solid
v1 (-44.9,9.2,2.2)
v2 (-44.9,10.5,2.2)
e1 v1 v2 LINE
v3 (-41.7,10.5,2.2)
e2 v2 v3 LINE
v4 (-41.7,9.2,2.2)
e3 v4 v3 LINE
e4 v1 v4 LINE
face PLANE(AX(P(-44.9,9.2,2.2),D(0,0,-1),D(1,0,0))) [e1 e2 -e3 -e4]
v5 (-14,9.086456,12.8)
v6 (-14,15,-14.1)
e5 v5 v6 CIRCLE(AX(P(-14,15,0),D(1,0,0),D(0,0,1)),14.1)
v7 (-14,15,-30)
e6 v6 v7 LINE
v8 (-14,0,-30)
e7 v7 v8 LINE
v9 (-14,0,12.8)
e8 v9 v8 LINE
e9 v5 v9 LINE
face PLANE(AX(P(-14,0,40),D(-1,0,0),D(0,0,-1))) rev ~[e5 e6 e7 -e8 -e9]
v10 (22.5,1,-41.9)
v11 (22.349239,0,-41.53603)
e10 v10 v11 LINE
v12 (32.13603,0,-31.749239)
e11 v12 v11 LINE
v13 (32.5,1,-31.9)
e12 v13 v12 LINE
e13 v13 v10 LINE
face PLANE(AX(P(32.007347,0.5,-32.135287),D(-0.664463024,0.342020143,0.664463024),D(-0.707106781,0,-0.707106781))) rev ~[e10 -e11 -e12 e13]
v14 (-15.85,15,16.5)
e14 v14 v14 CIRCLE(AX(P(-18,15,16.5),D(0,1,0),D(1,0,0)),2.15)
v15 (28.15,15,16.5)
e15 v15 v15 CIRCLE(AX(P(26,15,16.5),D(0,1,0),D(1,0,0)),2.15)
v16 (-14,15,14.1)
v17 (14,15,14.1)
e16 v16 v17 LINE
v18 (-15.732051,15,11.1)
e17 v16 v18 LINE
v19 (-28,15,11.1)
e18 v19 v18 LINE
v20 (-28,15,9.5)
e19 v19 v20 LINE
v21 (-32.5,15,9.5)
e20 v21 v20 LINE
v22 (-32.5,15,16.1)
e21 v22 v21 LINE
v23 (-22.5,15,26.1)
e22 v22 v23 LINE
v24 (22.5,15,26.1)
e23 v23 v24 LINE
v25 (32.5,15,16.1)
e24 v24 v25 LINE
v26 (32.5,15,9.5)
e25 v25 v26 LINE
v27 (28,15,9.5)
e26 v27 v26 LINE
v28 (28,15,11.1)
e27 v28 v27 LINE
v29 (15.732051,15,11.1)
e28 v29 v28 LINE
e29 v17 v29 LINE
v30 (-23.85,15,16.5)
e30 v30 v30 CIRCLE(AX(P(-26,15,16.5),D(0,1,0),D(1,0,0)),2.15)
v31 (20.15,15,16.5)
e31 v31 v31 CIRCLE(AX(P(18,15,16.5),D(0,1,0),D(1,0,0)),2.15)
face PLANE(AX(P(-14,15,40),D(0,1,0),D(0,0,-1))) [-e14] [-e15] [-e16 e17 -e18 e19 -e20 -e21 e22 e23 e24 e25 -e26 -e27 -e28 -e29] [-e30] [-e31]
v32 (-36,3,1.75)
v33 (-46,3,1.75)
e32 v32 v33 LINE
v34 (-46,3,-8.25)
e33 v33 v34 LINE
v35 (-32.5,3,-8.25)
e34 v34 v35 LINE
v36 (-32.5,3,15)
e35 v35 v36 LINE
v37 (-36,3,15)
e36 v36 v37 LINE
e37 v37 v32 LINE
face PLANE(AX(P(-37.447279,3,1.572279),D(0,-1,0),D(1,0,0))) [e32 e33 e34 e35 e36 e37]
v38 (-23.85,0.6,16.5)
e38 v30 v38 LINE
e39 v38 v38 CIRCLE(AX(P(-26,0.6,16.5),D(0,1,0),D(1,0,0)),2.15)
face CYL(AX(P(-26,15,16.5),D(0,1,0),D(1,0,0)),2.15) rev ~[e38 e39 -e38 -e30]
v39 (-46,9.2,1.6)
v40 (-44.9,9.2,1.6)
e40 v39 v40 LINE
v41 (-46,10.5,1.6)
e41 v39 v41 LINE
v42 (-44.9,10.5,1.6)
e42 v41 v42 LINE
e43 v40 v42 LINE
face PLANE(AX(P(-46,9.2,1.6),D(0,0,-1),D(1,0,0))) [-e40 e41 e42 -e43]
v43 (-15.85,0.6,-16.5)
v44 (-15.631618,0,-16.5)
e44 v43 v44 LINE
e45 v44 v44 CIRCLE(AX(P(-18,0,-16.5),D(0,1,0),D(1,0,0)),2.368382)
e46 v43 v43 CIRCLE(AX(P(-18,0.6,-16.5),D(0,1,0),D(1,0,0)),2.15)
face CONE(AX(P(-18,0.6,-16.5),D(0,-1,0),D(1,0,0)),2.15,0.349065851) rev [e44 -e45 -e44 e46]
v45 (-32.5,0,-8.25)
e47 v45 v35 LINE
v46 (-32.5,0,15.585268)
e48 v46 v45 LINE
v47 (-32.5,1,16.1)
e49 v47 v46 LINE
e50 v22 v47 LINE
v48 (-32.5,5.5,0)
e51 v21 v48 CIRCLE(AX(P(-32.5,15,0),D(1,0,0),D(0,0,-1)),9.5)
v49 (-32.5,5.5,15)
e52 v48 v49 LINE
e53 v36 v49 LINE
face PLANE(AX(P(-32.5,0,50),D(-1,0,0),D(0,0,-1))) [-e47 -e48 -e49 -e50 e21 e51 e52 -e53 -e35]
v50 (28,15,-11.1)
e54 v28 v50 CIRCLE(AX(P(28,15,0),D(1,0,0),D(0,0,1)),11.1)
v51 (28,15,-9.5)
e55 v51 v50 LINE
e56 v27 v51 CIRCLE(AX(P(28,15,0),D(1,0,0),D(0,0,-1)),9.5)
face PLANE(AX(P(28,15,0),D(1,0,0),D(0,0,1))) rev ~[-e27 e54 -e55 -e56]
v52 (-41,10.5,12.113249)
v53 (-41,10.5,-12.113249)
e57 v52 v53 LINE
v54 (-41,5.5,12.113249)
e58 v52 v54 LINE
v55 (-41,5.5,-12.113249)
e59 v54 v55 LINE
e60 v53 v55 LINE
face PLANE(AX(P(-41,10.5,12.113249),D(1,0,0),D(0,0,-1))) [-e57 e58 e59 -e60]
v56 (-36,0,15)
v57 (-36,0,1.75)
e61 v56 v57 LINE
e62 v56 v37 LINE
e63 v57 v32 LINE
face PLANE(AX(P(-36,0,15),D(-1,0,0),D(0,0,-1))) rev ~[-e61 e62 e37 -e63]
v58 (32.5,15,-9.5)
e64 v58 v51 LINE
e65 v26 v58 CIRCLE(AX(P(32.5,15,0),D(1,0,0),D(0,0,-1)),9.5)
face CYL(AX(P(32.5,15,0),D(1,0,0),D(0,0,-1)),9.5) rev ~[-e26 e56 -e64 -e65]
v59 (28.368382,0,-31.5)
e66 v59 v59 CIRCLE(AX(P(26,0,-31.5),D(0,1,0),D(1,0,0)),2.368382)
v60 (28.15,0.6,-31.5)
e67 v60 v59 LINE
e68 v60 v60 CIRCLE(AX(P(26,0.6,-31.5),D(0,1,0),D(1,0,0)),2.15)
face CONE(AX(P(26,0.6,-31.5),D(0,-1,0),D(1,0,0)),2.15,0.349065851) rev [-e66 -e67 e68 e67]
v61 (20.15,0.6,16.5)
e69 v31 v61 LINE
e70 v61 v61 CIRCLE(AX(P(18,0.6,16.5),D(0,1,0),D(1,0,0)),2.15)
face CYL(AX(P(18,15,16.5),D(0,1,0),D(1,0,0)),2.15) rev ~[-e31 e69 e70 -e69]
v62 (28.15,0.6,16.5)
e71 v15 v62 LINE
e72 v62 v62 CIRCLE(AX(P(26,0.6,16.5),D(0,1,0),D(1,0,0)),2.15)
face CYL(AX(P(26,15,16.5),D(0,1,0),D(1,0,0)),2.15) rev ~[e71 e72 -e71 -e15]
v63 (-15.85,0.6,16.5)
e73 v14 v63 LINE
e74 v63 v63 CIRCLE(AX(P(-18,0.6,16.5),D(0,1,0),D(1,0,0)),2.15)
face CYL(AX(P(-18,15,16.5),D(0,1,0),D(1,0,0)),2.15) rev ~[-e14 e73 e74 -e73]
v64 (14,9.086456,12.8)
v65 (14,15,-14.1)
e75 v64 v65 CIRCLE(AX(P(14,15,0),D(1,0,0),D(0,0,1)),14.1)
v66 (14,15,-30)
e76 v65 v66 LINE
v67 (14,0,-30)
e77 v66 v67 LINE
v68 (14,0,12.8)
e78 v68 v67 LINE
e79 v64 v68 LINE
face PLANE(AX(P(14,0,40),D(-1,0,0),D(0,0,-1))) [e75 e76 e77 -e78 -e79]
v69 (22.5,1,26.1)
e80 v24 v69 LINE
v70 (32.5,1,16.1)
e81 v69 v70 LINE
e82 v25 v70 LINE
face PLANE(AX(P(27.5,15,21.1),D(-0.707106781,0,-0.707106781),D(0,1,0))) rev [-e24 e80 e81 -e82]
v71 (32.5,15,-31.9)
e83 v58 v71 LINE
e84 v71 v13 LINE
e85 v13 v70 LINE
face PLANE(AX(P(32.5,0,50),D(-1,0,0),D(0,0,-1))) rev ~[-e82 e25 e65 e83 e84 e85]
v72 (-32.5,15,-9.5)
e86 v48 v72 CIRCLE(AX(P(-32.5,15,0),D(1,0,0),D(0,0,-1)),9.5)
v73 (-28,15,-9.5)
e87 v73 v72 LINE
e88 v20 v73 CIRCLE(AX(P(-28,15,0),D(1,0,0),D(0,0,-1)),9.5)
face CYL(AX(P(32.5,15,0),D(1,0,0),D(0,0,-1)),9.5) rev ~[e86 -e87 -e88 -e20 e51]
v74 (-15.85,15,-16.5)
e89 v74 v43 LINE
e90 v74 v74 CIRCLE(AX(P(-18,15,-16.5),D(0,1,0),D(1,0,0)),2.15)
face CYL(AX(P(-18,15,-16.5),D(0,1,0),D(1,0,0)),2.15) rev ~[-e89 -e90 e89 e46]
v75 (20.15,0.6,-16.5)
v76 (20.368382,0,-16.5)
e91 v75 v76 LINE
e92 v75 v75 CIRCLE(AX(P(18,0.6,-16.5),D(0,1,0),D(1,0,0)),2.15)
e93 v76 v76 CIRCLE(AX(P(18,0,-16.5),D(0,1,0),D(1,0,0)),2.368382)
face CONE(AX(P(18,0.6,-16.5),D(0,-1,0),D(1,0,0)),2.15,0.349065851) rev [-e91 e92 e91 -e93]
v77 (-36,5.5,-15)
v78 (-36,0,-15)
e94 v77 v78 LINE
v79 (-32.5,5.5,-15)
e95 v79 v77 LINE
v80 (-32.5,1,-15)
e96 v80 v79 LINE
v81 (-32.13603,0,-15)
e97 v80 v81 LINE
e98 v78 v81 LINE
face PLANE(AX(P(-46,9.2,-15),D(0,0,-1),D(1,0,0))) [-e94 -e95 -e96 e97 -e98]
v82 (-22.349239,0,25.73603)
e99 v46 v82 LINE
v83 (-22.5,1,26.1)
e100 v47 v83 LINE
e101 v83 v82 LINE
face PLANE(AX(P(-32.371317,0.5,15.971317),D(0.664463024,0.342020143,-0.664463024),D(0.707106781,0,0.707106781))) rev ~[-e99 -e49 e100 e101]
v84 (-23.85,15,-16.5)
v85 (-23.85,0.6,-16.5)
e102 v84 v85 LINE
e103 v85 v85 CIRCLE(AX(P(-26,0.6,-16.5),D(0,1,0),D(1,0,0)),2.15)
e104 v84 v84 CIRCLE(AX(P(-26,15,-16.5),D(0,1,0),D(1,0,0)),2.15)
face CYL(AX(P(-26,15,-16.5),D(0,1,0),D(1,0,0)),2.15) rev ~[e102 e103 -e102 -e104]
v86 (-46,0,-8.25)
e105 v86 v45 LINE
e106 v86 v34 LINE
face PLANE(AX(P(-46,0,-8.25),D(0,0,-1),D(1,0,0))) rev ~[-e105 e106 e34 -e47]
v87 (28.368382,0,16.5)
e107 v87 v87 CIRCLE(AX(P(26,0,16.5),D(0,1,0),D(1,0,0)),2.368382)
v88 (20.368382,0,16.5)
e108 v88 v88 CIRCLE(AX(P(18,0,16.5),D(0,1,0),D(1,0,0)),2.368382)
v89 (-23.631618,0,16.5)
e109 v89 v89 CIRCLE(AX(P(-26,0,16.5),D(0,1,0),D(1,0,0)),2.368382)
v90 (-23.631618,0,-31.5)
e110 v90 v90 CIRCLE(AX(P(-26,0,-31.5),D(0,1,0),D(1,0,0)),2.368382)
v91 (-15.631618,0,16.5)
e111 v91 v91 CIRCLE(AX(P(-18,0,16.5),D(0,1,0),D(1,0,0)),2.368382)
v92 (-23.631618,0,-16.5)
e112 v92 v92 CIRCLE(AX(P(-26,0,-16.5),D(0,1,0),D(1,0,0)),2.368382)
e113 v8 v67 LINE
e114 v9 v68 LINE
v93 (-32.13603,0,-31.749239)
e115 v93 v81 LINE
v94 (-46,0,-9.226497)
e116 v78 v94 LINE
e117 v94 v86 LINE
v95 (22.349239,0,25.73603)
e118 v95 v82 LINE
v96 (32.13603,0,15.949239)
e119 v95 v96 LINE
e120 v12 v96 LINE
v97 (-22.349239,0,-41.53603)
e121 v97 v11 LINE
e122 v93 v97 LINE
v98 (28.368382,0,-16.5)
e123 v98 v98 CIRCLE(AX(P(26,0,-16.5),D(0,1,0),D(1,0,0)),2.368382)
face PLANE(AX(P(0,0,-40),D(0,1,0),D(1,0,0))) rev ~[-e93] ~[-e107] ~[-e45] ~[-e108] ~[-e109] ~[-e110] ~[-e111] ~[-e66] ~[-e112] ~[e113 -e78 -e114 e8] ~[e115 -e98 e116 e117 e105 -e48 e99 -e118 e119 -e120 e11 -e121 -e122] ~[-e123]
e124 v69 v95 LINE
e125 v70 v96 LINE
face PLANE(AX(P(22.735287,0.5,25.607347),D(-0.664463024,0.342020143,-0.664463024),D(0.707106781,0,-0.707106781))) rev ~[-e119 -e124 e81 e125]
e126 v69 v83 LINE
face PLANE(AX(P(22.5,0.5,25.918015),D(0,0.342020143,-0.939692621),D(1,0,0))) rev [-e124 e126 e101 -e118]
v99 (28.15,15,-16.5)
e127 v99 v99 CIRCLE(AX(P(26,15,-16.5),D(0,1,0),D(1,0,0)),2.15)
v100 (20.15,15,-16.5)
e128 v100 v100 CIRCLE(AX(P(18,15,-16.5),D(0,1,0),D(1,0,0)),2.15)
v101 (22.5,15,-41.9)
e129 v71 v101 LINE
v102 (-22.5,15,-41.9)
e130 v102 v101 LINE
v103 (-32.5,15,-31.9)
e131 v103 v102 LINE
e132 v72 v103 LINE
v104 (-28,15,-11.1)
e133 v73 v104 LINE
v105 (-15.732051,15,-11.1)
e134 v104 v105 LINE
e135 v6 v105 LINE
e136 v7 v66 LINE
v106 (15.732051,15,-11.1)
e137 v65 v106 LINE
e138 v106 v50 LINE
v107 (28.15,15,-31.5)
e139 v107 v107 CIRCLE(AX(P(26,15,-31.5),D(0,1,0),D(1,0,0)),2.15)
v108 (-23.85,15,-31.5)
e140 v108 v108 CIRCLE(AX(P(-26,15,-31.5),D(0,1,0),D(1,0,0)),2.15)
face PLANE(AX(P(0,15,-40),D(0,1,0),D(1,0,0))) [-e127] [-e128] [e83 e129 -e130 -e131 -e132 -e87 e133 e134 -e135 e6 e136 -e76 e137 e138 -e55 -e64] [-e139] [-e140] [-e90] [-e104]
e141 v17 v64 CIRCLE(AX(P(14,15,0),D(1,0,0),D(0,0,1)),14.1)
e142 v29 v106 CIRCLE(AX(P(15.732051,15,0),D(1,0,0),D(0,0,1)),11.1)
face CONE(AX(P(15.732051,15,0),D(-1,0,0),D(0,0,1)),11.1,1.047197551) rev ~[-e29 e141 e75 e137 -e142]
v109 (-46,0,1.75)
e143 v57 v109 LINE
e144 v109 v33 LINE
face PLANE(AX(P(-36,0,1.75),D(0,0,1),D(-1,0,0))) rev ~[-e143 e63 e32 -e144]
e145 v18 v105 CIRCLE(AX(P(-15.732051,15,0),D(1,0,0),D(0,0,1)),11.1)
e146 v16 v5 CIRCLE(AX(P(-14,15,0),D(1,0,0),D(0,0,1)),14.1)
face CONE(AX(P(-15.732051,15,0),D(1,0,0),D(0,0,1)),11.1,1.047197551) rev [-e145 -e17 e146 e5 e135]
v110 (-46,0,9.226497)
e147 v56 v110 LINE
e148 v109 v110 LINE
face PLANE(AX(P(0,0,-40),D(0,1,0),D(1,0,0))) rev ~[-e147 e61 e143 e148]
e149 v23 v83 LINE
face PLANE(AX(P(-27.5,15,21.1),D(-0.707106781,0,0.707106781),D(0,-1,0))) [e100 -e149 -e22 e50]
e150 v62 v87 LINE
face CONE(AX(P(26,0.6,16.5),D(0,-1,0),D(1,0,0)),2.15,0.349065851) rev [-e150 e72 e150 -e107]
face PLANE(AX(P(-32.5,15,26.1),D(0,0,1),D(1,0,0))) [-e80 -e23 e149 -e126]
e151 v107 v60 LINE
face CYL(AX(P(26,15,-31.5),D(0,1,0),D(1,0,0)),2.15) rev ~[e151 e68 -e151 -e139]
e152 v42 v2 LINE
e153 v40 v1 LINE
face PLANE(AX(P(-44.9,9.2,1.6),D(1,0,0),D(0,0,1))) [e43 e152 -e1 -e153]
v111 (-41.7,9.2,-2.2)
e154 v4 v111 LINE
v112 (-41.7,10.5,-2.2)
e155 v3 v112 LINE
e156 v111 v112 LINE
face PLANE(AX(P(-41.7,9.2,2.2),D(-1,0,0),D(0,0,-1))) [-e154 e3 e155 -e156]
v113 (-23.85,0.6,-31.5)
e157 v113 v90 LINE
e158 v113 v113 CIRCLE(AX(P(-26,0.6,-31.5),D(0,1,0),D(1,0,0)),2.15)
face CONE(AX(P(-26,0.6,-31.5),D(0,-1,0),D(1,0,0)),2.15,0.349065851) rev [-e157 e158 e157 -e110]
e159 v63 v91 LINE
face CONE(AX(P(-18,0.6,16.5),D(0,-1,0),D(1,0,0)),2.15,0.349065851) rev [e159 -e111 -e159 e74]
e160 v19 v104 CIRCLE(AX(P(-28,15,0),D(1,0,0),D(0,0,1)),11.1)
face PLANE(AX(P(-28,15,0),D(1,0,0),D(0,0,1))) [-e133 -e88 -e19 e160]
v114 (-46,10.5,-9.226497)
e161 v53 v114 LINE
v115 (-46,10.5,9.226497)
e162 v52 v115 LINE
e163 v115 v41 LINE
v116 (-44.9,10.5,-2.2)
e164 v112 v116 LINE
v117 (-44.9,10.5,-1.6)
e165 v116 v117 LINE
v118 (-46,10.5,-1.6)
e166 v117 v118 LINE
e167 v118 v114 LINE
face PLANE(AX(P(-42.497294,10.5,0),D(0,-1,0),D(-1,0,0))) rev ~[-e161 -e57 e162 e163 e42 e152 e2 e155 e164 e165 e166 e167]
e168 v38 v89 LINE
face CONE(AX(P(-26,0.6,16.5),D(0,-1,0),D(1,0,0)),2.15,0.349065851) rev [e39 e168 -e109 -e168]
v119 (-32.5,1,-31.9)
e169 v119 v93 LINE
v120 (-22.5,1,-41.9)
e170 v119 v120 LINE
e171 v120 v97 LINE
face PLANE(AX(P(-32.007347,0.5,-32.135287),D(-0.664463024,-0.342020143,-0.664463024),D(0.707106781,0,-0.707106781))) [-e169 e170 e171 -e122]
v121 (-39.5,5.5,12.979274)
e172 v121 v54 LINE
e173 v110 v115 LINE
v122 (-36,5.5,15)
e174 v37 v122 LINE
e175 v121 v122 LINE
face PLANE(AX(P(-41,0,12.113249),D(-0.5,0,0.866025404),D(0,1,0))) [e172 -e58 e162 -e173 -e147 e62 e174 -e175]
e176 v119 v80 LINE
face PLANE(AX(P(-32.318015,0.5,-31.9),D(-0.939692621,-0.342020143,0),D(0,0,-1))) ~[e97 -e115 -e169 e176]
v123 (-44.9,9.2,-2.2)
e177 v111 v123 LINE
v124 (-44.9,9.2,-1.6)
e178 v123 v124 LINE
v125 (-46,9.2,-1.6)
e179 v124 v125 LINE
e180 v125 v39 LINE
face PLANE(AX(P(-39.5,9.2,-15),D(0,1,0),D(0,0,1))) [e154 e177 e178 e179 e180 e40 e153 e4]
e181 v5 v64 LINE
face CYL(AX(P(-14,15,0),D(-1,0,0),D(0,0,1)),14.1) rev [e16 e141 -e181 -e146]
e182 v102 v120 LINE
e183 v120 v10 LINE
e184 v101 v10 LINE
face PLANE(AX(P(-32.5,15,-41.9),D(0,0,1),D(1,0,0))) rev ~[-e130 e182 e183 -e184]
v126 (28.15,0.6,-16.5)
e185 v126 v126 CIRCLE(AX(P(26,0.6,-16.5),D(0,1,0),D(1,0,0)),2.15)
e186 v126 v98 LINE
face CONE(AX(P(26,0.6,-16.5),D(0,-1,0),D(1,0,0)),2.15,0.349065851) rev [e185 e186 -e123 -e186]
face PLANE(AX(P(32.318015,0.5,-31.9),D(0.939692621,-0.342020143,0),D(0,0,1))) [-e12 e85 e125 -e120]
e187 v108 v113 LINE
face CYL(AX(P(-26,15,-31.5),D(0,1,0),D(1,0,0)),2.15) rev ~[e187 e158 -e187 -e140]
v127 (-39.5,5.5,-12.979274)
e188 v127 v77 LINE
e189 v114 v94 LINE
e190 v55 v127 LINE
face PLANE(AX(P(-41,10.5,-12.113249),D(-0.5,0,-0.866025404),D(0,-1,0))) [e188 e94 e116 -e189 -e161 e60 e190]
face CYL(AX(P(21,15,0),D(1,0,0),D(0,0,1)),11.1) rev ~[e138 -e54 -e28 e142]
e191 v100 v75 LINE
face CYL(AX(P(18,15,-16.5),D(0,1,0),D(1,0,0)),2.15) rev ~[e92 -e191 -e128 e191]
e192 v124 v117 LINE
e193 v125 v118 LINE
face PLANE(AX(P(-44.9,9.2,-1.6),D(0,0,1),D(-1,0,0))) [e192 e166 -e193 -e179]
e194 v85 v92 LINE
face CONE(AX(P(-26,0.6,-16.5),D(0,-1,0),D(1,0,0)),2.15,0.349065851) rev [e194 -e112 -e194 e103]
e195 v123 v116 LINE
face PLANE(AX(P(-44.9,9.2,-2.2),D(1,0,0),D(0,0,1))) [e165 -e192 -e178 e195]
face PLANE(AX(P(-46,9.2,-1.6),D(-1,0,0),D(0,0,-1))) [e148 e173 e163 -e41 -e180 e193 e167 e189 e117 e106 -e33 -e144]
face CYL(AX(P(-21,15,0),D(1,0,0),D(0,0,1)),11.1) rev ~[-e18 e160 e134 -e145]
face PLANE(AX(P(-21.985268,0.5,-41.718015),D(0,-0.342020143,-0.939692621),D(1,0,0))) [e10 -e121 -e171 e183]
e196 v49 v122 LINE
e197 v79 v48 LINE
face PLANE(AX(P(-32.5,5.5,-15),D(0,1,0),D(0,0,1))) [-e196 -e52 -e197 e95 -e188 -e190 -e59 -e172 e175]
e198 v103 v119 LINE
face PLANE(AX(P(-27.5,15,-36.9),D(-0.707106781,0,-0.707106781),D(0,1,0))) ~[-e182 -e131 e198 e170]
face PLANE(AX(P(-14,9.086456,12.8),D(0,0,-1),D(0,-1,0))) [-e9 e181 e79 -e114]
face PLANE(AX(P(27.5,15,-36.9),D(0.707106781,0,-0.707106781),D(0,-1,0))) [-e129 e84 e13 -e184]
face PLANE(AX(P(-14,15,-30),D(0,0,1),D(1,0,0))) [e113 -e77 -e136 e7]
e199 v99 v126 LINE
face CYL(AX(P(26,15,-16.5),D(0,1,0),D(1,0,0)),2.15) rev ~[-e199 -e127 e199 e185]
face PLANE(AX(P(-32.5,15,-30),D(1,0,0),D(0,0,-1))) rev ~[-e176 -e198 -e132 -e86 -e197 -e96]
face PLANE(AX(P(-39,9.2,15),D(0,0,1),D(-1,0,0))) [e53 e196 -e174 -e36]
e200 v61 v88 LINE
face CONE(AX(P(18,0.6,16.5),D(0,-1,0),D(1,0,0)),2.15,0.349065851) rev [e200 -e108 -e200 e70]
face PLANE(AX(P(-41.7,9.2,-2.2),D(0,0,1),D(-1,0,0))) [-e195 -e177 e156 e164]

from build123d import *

# Parameters (mm, degrees)
SKETCH1_W              = 65
SKETCH1_H              = 100
SKETCH1_W_2            = 28
SKETCH1_H_2            = 80
BOSS_EXTRUDE1_DEPTH    = 15
SKETCH3_W              = 14
SKETCH3_H              = 11.1
SKETCH4_R              = 9.5
CUT_EXTRUDE2_DEPTH     = 66
SKETCH8_R              = 2.15
CUT_EXTRUDE6_DEPTH     = 16
FILLET1_R              = 20
CHAMFER1_SIZE          = 3
CHAMFER1_SIZE2         = 1.732050808
CHAMFER1_PART_2_SIZE   = 3
CHAMFER1_PART_2_SIZE2  = 1.732050808
SKETCH10_W             = 30
SKETCH10_H             = 5.5
BOSS_EXTRUDE2_DEPTH    = 13.5
BOSS_EXTRUDE3_START    = 7
SKETCH12_W             = 30
SKETCH12_H             = 3.7
BOSS_EXTRUDE3_DEPTH    = 6.5
BOSS_EXTRUDE4_DEPTH    = 1.3
CHAMFER3_SIZE          = 10
CHAMFER3_SIZE2         = 5.773502692
CHAMFER3_PART_2_SIZE   = 10
CHAMFER3_PART_2_SIZE2  = 5.773502692
BOSS_EXTRUDE6_DEPTH    = 28
SKETCH16_W             = 65
SKETCH16_H             = 26.184127578
CUT_EXTRUDE7_DEPTH     = 16
SKETCH17_W             = 28
SKETCH17_H             = 10
BOSS_EXTRUDE7_DEPTH    = 15
SKETCH18_W             = 65
SKETCH18_H             = 20
BOSS_EXTRUDE8_DEPTH    = 15
SKETCH19_W             = 65
SKETCH19_H             = 8.1
CUT_EXTRUDE8_DEPTH     = 16
CUT_EXTRUDE10_DEPTH    = 3
CHAMFER5_SIZE          = 10
CHAMFER6_SIZE          = 1
CHAMFER6_SIZE2         = 0.363970234
CHAMFER6_PART_2_SIZE   = 1
CHAMFER6_PART_2_SIZE2  = 0.363970234
CHAMFER6_PART_3_SIZE   = 1
CHAMFER6_PART_3_SIZE2  = 0.363970234
CHAMFER6_PART_4_SIZE   = 1
CHAMFER6_PART_4_SIZE2  = 0.363970234
CHAMFER6_PART_5_SIZE   = 1
CHAMFER6_PART_5_SIZE2  = 0.363970234
CHAMFER6_PART_6_SIZE   = 1
CHAMFER6_PART_6_SIZE2  = 0.363970234
CHAMFER6_PART_7_SIZE   = 1
CHAMFER6_PART_7_SIZE2  = 0.363970234
CHAMFER6_PART_8_SIZE   = 1
CHAMFER6_PART_8_SIZE2  = 0.363970234
SKETCH26_R             = 2.15
CUT_EXTRUDE11_DEPTH    = 16
CHAMFER7_SIZE          = 0.6
CHAMFER7_SIZE2         = 0.218382141
CHAMFER7_PART_2_SIZE   = 0.6
CHAMFER7_PART_2_SIZE2  = 0.218382141
CHAMFER7_PART_3_SIZE   = 0.6
CHAMFER7_PART_3_SIZE2  = 0.218382141
CHAMFER7_PART_4_SIZE   = 0.6
CHAMFER7_PART_4_SIZE2  = 0.218382141
CHAMFER7_PART_5_SIZE   = 0.6
CHAMFER7_PART_5_SIZE2  = 0.218382141
CHAMFER7_PART_6_SIZE   = 0.6
CHAMFER7_PART_6_SIZE2  = 0.218382141
CHAMFER7_PART_7_SIZE   = 0.6
CHAMFER7_PART_7_SIZE2  = 0.218382141
CHAMFER7_PART_8_SIZE   = 0.6
CHAMFER7_PART_8_SIZE2  = 0.218382141
CHAMFER7_PART_9_SIZE   = 0.6
CHAMFER7_PART_9_SIZE2  = 0.218382141
CHAMFER7_PART_10_SIZE  = 0.6
CHAMFER7_PART_10_SIZE2 = 0.218382141
CUT_EXTRUDE12_DEPTH    = 5


with BuildPart() as part:
    # Sketch1 → Boss-Extrude1 (new body)
    with BuildSketch(Plane(origin=(0, 0, 0), x_dir=(1, 0, 0), z_dir=(0, 1, 0))):
        Rectangle(SKETCH1_W, SKETCH1_H)
        Rectangle(SKETCH1_W_2, SKETCH1_H_2, mode=Mode.SUBTRACT)
    extrude(amount=BOSS_EXTRUDE1_DEPTH)

    # Sketch3 → Cut-Revolve1 (revolve, cut)
    with BuildSketch(Plane(origin=(0, 15, 0), x_dir=(1, 0, 0), z_dir=(0, 1, 0))):
        with Locations((21, -5.55)):
            Rectangle(SKETCH3_W, SKETCH3_H)
        with Locations((-21, -5.55)):
            Rectangle(SKETCH3_W, SKETCH3_H)
    revolve(axis=Axis((14, 15, 0), (1, 0, 0)), mode=Mode.SUBTRACT)

    # Sketch4 → Cut-Extrude2 (cut, through all)
    with BuildSketch(Plane(origin=(32.5, 0, 0), x_dir=(0, 0, -1), z_dir=(1, 0, 0))):
        with Locations((0, 15)):
            Circle(SKETCH4_R)
    extrude(amount=-CUT_EXTRUDE2_DEPTH, mode=Mode.SUBTRACT)

    # Sketch8 → Cut-Extrude6 (cut, through all)
    with BuildSketch(Plane(origin=(0, 15, 0), x_dir=(1, 0, 0), z_dir=(0, 1, 0))):
        with Locations((18, 16.5)):
            Circle(SKETCH8_R)
        with Locations((18, -16.5)):
            Circle(SKETCH8_R)
        with Locations((-18, -16.5)):
            Circle(SKETCH8_R)
        with Locations((-18, 16.5)):
            Circle(SKETCH8_R)
        with Locations((9, -27)):
            Circle(SKETCH8_R)
        with Locations((-9, -27)):
            Circle(SKETCH8_R)
        with Locations((-9, 27)):
            Circle(SKETCH8_R)
        with Locations((9, 27)):
            Circle(SKETCH8_R)
        with Locations((-26, 16.5)):
            Circle(SKETCH8_R)
        with Locations((26, 16.5)):
            Circle(SKETCH8_R)
        with Locations((26, -16.5)):
            Circle(SKETCH8_R)
        with Locations((-26, -16.5)):
            Circle(SKETCH8_R)
    extrude(amount=-CUT_EXTRUDE6_DEPTH, mode=Mode.SUBTRACT)

    # Fillet1
    fillet1_edges = [part.edges().sort_by_distance(p)[0] for p in [
        (-32.5, 7.5, -50),
        (32.5, 7.5, -50),
        (32.5, 7.5, 50),
        (-32.5, 7.5, 50),
    ]]
    fillet(fillet1_edges, radius=FILLET1_R)

    # Chamfer1
    chamfer1_edges = [part.edges().sort_by_distance(p)[0] for p in [
        (14, 3.9, 0),
    ]]
    chamfer1_side = [part.faces().sort_by_distance(p)[0] for p in [
        (14, 0.81394103, 0),
    ]]
    chamfer(chamfer1_edges, length=CHAMFER1_SIZE, length2=CHAMFER1_SIZE2, reference=chamfer1_side[0])

    # Chamfer1 part 2
    chamfer1_part_2_edges = [part.edges().sort_by_distance(p)[0] for p in [
        (-14, 3.9, 0),
    ]]
    chamfer1_part_2_side = [part.faces().sort_by_distance(p)[0] for p in [
        (-14, 0.81394103, 0),
    ]]
    chamfer(chamfer1_part_2_edges, length=CHAMFER1_PART_2_SIZE, length2=CHAMFER1_PART_2_SIZE2, reference=chamfer1_part_2_side[0])

    # Sketch10 → Boss-Extrude2 (add)
    with BuildSketch(Plane.ZY.offset(32.5)):
        with Locations((0, 2.75)):
            Rectangle(SKETCH10_W, SKETCH10_H)
    extrude(amount=BOSS_EXTRUDE2_DEPTH)

    # Sketch12 → Boss-Extrude3 (add)
    with BuildSketch(Plane.ZY.offset(32.5).offset(BOSS_EXTRUDE3_START)):
        with Locations((0, 7.35)):
            Rectangle(SKETCH12_W, SKETCH12_H)
    extrude(amount=BOSS_EXTRUDE3_DEPTH)

    # Sketch13 → Boss-Extrude4 (add)
    with BuildSketch(Plane(origin=(0, 9.2, 0), x_dir=(1, 0, 0), z_dir=(0, 1, 0))):
        Polygon((-44.9, 2.2), (-44.9, 1.6), (-46, 1.6), (-46, 15), (-39, 15), (-39, -15), (-46, -15), (-46, -1.6), (-44.9, -1.6), (-44.9, -2.2), (-41.7, -2.2), (-41.7, 2.2), align=None)
    extrude(amount=BOSS_EXTRUDE4_DEPTH)

    # Chamfer3
    chamfer3_edges = [part.edges().sort_by_distance(p)[0] for p in [
        (-46, 5.25, -15),
    ]]
    chamfer3_side = [part.faces().sort_by_distance(p)[0] for p in [
        (-40.309124767, 4.381657356, -15),
    ]]
    chamfer(chamfer3_edges, length=CHAMFER3_SIZE, length2=CHAMFER3_SIZE2, reference=chamfer3_side[0])

    # Chamfer3 part 2
    chamfer3_part_2_edges = [part.edges().sort_by_distance(p)[0] for p in [
        (-46, 5.25, 15),
    ]]
    chamfer3_part_2_side = [part.faces().sort_by_distance(p)[0] for p in [
        (-40.309124767, 4.381657356, 15),
    ]]
    chamfer(chamfer3_part_2_edges, length=CHAMFER3_PART_2_SIZE, length2=CHAMFER3_PART_2_SIZE2, reference=chamfer3_part_2_side[0])

    # Sketch15 → Boss-Extrude6 (add)
    with BuildSketch(Plane(origin=(-14, 0, 0), x_dir=(0, 0, -1), z_dir=(1, 0, 0))):
        with BuildLine():
            Line((-12.8, 9.086456223), (-12.8, 0))
            Line((-12.8, 0), (-40, 0))
            Line((-40, 0), (-40, 15))
            Line((-40, 15), (-14.1, 15))
            ThreePointArc((-14.1, 15), (-13.771165528, 11.972624899), (-12.8, 9.086456223))
        make_face()
    extrude(amount=BOSS_EXTRUDE6_DEPTH)

    # Sketch16 → Cut-Extrude7 (cut, through all)
    with BuildSketch(Plane(origin=(0, 15, 0), x_dir=(1, 0, 0), z_dir=(0, 1, 0))):
        with Locations((0, -39.192063789)):
            Rectangle(SKETCH16_W, SKETCH16_H)
    extrude(amount=-CUT_EXTRUDE7_DEPTH, mode=Mode.SUBTRACT)

    # Sketch17 → Boss-Extrude7 (add)
    with BuildSketch(Plane(origin=(0, 15, 0), x_dir=(1, 0, 0), z_dir=(0, 1, 0))):
        with Locations((0, 35)):
            Rectangle(SKETCH17_W, SKETCH17_H)
    extrude(amount=-BOSS_EXTRUDE7_DEPTH)

    # Sketch18 → Boss-Extrude8 (add)
    with BuildSketch(Plane(origin=(0, 15, 0), x_dir=(1, 0, 0), z_dir=(0, 1, 0))):
        with Locations((0, 40)):
            Rectangle(SKETCH18_W, SKETCH18_H)
    extrude(amount=-BOSS_EXTRUDE8_DEPTH)

    # Sketch19 → Cut-Extrude8 (cut, through all)
    with BuildSketch(Plane(origin=(0, 15, 0), x_dir=(1, 0, 0), z_dir=(0, 1, 0))):
        with Locations((0, 45.95)):
            Rectangle(SKETCH19_W, SKETCH19_H)
    extrude(amount=-CUT_EXTRUDE8_DEPTH, mode=Mode.SUBTRACT)

    # Sketch21 → Cut-Extrude10 (cut)
    with BuildSketch(Plane.XZ):
        Polygon((-32.5, -8.25), (-32.5, 15), (-36, 15), (-36, 1.75), (-46, 1.75), (-46, -1.75), (-46, -8.25), align=None)
    extrude(amount=-CUT_EXTRUDE10_DEPTH, mode=Mode.SUBTRACT)

    # Chamfer5
    chamfer5_edges = [part.edges().sort_by_distance(p)[0] for p in [
        (-32.5, 7.5, 26.1),
        (32.5, 7.5, 26.1),
        (32.5, 7.5, -41.9),
        (-32.5, 7.5, -41.9),
    ]]
    chamfer(chamfer5_edges, length=CHAMFER5_SIZE)

    # Chamfer6
    chamfer6_edges = [part.edges().sort_by_distance(p)[0] for p in [
        (-27.5, 0, 21.1),
    ]]
    chamfer6_side = [part.faces().sort_by_distance(p)[0] for p in [
        (-27.5, 7.5, 21.1),
    ]]
    chamfer(chamfer6_edges, length=CHAMFER6_SIZE, length2=CHAMFER6_SIZE2, reference=chamfer6_side[0])

    # Chamfer6 part 2
    chamfer6_part_2_edges = [part.edges().sort_by_distance(p)[0] for p in [
        (0, 0, 26.1),
    ]]
    chamfer6_part_2_side = [part.faces().sort_by_distance(p)[0] for p in [
        (0, 7.5, 26.1),
    ]]
    chamfer(chamfer6_part_2_edges, length=CHAMFER6_PART_2_SIZE, length2=CHAMFER6_PART_2_SIZE2, reference=chamfer6_part_2_side[0])

    # Chamfer6 part 3
    chamfer6_part_3_edges = [part.edges().sort_by_distance(p)[0] for p in [
        (27.5, 0, 21.1),
    ]]
    chamfer6_part_3_side = [part.faces().sort_by_distance(p)[0] for p in [
        (27.5, 7.5, 21.1),
    ]]
    chamfer(chamfer6_part_3_edges, length=CHAMFER6_PART_3_SIZE, length2=CHAMFER6_PART_3_SIZE2, reference=chamfer6_part_3_side[0])

    # Chamfer6 part 4
    chamfer6_part_4_edges = [part.edges().sort_by_distance(p)[0] for p in [
        (-32.5, 0, -23.45),
    ]]
    chamfer6_part_4_side = [part.faces().sort_by_distance(p)[0] for p in [
        (-32.5, 7.949222644, -20.692601289),
    ]]
    chamfer(chamfer6_part_4_edges, length=CHAMFER6_PART_4_SIZE, length2=CHAMFER6_PART_4_SIZE2, reference=chamfer6_part_4_side[0])

    # Chamfer6 part 5
    chamfer6_part_5_edges = [part.edges().sort_by_distance(p)[0] for p in [
        (-27.5, 0, -36.9),
    ]]
    chamfer6_part_5_side = [part.faces().sort_by_distance(p)[0] for p in [
        (-27.5, 7.5, -36.9),
    ]]
    chamfer(chamfer6_part_5_edges, length=CHAMFER6_PART_5_SIZE, length2=CHAMFER6_PART_5_SIZE2, reference=chamfer6_part_5_side[0])

    # Chamfer6 part 6
    chamfer6_part_6_edges = [part.edges().sort_by_distance(p)[0] for p in [
        (32.5, 0, -7.9),
    ]]
    chamfer6_part_6_side = [part.faces().sort_by_distance(p)[0] for p in [
        (32.5, 6.649742071, -9.836820303),
    ]]
    chamfer(chamfer6_part_6_edges, length=CHAMFER6_PART_6_SIZE, length2=CHAMFER6_PART_6_SIZE2, reference=chamfer6_part_6_side[0])

    # Chamfer6 part 7
    chamfer6_part_7_edges = [part.edges().sort_by_distance(p)[0] for p in [
        (27.5, 0, -36.9),
    ]]
    chamfer6_part_7_side = [part.faces().sort_by_distance(p)[0] for p in [
        (27.5, 7.5, -36.9),
    ]]
    chamfer(chamfer6_part_7_edges, length=CHAMFER6_PART_7_SIZE, length2=CHAMFER6_PART_7_SIZE2, reference=chamfer6_part_7_side[0])

    # Chamfer6 part 8
    chamfer6_part_8_edges = [part.edges().sort_by_distance(p)[0] for p in [
        (0, 0, -41.9),
    ]]
    chamfer6_part_8_side = [part.faces().sort_by_distance(p)[0] for p in [
        (0, 7.5, -41.9),
    ]]
    chamfer(chamfer6_part_8_edges, length=CHAMFER6_PART_8_SIZE, length2=CHAMFER6_PART_8_SIZE2, reference=chamfer6_part_8_side[0])

    # Sketch26 → Cut-Extrude11 (cut, through all)
    with BuildSketch(Plane(origin=(0, 15, 0), x_dir=(1, 0, 0), z_dir=(0, 1, 0))):
        with Locations((-26, 31.5)):
            Circle(SKETCH26_R)
        with Locations((26, 31.5)):
            Circle(SKETCH26_R)
    extrude(amount=-CUT_EXTRUDE11_DEPTH, mode=Mode.SUBTRACT)

    # Chamfer7
    chamfer7_edges = [part.edges().sort_by_distance(p)[0] for p in [
        (-28.15, 0, -31.5),
    ]]
    chamfer7_side = [part.faces().sort_by_distance(p)[0] for p in [
        (-28.15, 7.5, -31.5),
    ]]
    chamfer(chamfer7_edges, length=CHAMFER7_SIZE, length2=CHAMFER7_SIZE2, reference=chamfer7_side[0])

    # Chamfer7 part 2
    chamfer7_part_2_edges = [part.edges().sort_by_distance(p)[0] for p in [
        (23.85, 0, -31.5),
    ]]
    chamfer7_part_2_side = [part.faces().sort_by_distance(p)[0] for p in [
        (23.85, 7.5, -31.5),
    ]]
    chamfer(chamfer7_part_2_edges, length=CHAMFER7_PART_2_SIZE, length2=CHAMFER7_PART_2_SIZE2, reference=chamfer7_part_2_side[0])

    # Chamfer7 part 3
    chamfer7_part_3_edges = [part.edges().sort_by_distance(p)[0] for p in [
        (15.85, 0, -16.5),
    ]]
    chamfer7_part_3_side = [part.faces().sort_by_distance(p)[0] for p in [
        (15.85, 7.5, -16.5),
    ]]
    chamfer(chamfer7_part_3_edges, length=CHAMFER7_PART_3_SIZE, length2=CHAMFER7_PART_3_SIZE2, reference=chamfer7_part_3_side[0])

    # Chamfer7 part 4
    chamfer7_part_4_edges = [part.edges().sort_by_distance(p)[0] for p in [
        (23.85, 0, -16.5),
    ]]
    chamfer7_part_4_side = [part.faces().sort_by_distance(p)[0] for p in [
        (23.85, 7.5, -16.5),
    ]]
    chamfer(chamfer7_part_4_edges, length=CHAMFER7_PART_4_SIZE, length2=CHAMFER7_PART_4_SIZE2, reference=chamfer7_part_4_side[0])

    # Chamfer7 part 5
    chamfer7_part_5_edges = [part.edges().sort_by_distance(p)[0] for p in [
        (23.85, 0, 16.5),
    ]]
    chamfer7_part_5_side = [part.faces().sort_by_distance(p)[0] for p in [
        (23.85, 7.5, 16.5),
    ]]
    chamfer(chamfer7_part_5_edges, length=CHAMFER7_PART_5_SIZE, length2=CHAMFER7_PART_5_SIZE2, reference=chamfer7_part_5_side[0])

    # Chamfer7 part 6
    chamfer7_part_6_edges = [part.edges().sort_by_distance(p)[0] for p in [
        (-28.15, 0, 16.5),
    ]]
    chamfer7_part_6_side = [part.faces().sort_by_distance(p)[0] for p in [
        (-28.15, 7.5, 16.5),
    ]]
    chamfer(chamfer7_part_6_edges, length=CHAMFER7_PART_6_SIZE, length2=CHAMFER7_PART_6_SIZE2, reference=chamfer7_part_6_side[0])

    # Chamfer7 part 7
    chamfer7_part_7_edges = [part.edges().sort_by_distance(p)[0] for p in [
        (15.85, 0, 16.5),
    ]]
    chamfer7_part_7_side = [part.faces().sort_by_distance(p)[0] for p in [
        (15.85, 7.5, 16.5),
    ]]
    chamfer(chamfer7_part_7_edges, length=CHAMFER7_PART_7_SIZE, length2=CHAMFER7_PART_7_SIZE2, reference=chamfer7_part_7_side[0])

    # Chamfer7 part 8
    chamfer7_part_8_edges = [part.edges().sort_by_distance(p)[0] for p in [
        (-20.15, 0, 16.5),
    ]]
    chamfer7_part_8_side = [part.faces().sort_by_distance(p)[0] for p in [
        (-20.15, 7.5, 16.5),
    ]]
    chamfer(chamfer7_part_8_edges, length=CHAMFER7_PART_8_SIZE, length2=CHAMFER7_PART_8_SIZE2, reference=chamfer7_part_8_side[0])

    # Chamfer7 part 9
    chamfer7_part_9_edges = [part.edges().sort_by_distance(p)[0] for p in [
        (-28.15, 0, -16.5),
    ]]
    chamfer7_part_9_side = [part.faces().sort_by_distance(p)[0] for p in [
        (-28.15, 7.5, -16.5),
    ]]
    chamfer(chamfer7_part_9_edges, length=CHAMFER7_PART_9_SIZE, length2=CHAMFER7_PART_9_SIZE2, reference=chamfer7_part_9_side[0])

    # Chamfer7 part 10
    chamfer7_part_10_edges = [part.edges().sort_by_distance(p)[0] for p in [
        (-20.15, 0, -16.5),
    ]]
    chamfer7_part_10_side = [part.faces().sort_by_distance(p)[0] for p in [
        (-20.15, 7.5, -16.5),
    ]]
    chamfer(chamfer7_part_10_edges, length=CHAMFER7_PART_10_SIZE, length2=CHAMFER7_PART_10_SIZE2, reference=chamfer7_part_10_side[0])

    # Sketch27 → Cut-Extrude12 (cut)
    with BuildSketch(Plane(origin=(0, 10.5, 0), x_dir=(1, 0, 0), z_dir=(0, 1, 0))):
        Polygon((-39, 13.267949192), (-39, -13.267949192), (-41, -12.113248654), (-41, 12.113248654), align=None)
    extrude(amount=-CUT_EXTRUDE12_DEPTH, mode=Mode.SUBTRACT)


solid = part.part
